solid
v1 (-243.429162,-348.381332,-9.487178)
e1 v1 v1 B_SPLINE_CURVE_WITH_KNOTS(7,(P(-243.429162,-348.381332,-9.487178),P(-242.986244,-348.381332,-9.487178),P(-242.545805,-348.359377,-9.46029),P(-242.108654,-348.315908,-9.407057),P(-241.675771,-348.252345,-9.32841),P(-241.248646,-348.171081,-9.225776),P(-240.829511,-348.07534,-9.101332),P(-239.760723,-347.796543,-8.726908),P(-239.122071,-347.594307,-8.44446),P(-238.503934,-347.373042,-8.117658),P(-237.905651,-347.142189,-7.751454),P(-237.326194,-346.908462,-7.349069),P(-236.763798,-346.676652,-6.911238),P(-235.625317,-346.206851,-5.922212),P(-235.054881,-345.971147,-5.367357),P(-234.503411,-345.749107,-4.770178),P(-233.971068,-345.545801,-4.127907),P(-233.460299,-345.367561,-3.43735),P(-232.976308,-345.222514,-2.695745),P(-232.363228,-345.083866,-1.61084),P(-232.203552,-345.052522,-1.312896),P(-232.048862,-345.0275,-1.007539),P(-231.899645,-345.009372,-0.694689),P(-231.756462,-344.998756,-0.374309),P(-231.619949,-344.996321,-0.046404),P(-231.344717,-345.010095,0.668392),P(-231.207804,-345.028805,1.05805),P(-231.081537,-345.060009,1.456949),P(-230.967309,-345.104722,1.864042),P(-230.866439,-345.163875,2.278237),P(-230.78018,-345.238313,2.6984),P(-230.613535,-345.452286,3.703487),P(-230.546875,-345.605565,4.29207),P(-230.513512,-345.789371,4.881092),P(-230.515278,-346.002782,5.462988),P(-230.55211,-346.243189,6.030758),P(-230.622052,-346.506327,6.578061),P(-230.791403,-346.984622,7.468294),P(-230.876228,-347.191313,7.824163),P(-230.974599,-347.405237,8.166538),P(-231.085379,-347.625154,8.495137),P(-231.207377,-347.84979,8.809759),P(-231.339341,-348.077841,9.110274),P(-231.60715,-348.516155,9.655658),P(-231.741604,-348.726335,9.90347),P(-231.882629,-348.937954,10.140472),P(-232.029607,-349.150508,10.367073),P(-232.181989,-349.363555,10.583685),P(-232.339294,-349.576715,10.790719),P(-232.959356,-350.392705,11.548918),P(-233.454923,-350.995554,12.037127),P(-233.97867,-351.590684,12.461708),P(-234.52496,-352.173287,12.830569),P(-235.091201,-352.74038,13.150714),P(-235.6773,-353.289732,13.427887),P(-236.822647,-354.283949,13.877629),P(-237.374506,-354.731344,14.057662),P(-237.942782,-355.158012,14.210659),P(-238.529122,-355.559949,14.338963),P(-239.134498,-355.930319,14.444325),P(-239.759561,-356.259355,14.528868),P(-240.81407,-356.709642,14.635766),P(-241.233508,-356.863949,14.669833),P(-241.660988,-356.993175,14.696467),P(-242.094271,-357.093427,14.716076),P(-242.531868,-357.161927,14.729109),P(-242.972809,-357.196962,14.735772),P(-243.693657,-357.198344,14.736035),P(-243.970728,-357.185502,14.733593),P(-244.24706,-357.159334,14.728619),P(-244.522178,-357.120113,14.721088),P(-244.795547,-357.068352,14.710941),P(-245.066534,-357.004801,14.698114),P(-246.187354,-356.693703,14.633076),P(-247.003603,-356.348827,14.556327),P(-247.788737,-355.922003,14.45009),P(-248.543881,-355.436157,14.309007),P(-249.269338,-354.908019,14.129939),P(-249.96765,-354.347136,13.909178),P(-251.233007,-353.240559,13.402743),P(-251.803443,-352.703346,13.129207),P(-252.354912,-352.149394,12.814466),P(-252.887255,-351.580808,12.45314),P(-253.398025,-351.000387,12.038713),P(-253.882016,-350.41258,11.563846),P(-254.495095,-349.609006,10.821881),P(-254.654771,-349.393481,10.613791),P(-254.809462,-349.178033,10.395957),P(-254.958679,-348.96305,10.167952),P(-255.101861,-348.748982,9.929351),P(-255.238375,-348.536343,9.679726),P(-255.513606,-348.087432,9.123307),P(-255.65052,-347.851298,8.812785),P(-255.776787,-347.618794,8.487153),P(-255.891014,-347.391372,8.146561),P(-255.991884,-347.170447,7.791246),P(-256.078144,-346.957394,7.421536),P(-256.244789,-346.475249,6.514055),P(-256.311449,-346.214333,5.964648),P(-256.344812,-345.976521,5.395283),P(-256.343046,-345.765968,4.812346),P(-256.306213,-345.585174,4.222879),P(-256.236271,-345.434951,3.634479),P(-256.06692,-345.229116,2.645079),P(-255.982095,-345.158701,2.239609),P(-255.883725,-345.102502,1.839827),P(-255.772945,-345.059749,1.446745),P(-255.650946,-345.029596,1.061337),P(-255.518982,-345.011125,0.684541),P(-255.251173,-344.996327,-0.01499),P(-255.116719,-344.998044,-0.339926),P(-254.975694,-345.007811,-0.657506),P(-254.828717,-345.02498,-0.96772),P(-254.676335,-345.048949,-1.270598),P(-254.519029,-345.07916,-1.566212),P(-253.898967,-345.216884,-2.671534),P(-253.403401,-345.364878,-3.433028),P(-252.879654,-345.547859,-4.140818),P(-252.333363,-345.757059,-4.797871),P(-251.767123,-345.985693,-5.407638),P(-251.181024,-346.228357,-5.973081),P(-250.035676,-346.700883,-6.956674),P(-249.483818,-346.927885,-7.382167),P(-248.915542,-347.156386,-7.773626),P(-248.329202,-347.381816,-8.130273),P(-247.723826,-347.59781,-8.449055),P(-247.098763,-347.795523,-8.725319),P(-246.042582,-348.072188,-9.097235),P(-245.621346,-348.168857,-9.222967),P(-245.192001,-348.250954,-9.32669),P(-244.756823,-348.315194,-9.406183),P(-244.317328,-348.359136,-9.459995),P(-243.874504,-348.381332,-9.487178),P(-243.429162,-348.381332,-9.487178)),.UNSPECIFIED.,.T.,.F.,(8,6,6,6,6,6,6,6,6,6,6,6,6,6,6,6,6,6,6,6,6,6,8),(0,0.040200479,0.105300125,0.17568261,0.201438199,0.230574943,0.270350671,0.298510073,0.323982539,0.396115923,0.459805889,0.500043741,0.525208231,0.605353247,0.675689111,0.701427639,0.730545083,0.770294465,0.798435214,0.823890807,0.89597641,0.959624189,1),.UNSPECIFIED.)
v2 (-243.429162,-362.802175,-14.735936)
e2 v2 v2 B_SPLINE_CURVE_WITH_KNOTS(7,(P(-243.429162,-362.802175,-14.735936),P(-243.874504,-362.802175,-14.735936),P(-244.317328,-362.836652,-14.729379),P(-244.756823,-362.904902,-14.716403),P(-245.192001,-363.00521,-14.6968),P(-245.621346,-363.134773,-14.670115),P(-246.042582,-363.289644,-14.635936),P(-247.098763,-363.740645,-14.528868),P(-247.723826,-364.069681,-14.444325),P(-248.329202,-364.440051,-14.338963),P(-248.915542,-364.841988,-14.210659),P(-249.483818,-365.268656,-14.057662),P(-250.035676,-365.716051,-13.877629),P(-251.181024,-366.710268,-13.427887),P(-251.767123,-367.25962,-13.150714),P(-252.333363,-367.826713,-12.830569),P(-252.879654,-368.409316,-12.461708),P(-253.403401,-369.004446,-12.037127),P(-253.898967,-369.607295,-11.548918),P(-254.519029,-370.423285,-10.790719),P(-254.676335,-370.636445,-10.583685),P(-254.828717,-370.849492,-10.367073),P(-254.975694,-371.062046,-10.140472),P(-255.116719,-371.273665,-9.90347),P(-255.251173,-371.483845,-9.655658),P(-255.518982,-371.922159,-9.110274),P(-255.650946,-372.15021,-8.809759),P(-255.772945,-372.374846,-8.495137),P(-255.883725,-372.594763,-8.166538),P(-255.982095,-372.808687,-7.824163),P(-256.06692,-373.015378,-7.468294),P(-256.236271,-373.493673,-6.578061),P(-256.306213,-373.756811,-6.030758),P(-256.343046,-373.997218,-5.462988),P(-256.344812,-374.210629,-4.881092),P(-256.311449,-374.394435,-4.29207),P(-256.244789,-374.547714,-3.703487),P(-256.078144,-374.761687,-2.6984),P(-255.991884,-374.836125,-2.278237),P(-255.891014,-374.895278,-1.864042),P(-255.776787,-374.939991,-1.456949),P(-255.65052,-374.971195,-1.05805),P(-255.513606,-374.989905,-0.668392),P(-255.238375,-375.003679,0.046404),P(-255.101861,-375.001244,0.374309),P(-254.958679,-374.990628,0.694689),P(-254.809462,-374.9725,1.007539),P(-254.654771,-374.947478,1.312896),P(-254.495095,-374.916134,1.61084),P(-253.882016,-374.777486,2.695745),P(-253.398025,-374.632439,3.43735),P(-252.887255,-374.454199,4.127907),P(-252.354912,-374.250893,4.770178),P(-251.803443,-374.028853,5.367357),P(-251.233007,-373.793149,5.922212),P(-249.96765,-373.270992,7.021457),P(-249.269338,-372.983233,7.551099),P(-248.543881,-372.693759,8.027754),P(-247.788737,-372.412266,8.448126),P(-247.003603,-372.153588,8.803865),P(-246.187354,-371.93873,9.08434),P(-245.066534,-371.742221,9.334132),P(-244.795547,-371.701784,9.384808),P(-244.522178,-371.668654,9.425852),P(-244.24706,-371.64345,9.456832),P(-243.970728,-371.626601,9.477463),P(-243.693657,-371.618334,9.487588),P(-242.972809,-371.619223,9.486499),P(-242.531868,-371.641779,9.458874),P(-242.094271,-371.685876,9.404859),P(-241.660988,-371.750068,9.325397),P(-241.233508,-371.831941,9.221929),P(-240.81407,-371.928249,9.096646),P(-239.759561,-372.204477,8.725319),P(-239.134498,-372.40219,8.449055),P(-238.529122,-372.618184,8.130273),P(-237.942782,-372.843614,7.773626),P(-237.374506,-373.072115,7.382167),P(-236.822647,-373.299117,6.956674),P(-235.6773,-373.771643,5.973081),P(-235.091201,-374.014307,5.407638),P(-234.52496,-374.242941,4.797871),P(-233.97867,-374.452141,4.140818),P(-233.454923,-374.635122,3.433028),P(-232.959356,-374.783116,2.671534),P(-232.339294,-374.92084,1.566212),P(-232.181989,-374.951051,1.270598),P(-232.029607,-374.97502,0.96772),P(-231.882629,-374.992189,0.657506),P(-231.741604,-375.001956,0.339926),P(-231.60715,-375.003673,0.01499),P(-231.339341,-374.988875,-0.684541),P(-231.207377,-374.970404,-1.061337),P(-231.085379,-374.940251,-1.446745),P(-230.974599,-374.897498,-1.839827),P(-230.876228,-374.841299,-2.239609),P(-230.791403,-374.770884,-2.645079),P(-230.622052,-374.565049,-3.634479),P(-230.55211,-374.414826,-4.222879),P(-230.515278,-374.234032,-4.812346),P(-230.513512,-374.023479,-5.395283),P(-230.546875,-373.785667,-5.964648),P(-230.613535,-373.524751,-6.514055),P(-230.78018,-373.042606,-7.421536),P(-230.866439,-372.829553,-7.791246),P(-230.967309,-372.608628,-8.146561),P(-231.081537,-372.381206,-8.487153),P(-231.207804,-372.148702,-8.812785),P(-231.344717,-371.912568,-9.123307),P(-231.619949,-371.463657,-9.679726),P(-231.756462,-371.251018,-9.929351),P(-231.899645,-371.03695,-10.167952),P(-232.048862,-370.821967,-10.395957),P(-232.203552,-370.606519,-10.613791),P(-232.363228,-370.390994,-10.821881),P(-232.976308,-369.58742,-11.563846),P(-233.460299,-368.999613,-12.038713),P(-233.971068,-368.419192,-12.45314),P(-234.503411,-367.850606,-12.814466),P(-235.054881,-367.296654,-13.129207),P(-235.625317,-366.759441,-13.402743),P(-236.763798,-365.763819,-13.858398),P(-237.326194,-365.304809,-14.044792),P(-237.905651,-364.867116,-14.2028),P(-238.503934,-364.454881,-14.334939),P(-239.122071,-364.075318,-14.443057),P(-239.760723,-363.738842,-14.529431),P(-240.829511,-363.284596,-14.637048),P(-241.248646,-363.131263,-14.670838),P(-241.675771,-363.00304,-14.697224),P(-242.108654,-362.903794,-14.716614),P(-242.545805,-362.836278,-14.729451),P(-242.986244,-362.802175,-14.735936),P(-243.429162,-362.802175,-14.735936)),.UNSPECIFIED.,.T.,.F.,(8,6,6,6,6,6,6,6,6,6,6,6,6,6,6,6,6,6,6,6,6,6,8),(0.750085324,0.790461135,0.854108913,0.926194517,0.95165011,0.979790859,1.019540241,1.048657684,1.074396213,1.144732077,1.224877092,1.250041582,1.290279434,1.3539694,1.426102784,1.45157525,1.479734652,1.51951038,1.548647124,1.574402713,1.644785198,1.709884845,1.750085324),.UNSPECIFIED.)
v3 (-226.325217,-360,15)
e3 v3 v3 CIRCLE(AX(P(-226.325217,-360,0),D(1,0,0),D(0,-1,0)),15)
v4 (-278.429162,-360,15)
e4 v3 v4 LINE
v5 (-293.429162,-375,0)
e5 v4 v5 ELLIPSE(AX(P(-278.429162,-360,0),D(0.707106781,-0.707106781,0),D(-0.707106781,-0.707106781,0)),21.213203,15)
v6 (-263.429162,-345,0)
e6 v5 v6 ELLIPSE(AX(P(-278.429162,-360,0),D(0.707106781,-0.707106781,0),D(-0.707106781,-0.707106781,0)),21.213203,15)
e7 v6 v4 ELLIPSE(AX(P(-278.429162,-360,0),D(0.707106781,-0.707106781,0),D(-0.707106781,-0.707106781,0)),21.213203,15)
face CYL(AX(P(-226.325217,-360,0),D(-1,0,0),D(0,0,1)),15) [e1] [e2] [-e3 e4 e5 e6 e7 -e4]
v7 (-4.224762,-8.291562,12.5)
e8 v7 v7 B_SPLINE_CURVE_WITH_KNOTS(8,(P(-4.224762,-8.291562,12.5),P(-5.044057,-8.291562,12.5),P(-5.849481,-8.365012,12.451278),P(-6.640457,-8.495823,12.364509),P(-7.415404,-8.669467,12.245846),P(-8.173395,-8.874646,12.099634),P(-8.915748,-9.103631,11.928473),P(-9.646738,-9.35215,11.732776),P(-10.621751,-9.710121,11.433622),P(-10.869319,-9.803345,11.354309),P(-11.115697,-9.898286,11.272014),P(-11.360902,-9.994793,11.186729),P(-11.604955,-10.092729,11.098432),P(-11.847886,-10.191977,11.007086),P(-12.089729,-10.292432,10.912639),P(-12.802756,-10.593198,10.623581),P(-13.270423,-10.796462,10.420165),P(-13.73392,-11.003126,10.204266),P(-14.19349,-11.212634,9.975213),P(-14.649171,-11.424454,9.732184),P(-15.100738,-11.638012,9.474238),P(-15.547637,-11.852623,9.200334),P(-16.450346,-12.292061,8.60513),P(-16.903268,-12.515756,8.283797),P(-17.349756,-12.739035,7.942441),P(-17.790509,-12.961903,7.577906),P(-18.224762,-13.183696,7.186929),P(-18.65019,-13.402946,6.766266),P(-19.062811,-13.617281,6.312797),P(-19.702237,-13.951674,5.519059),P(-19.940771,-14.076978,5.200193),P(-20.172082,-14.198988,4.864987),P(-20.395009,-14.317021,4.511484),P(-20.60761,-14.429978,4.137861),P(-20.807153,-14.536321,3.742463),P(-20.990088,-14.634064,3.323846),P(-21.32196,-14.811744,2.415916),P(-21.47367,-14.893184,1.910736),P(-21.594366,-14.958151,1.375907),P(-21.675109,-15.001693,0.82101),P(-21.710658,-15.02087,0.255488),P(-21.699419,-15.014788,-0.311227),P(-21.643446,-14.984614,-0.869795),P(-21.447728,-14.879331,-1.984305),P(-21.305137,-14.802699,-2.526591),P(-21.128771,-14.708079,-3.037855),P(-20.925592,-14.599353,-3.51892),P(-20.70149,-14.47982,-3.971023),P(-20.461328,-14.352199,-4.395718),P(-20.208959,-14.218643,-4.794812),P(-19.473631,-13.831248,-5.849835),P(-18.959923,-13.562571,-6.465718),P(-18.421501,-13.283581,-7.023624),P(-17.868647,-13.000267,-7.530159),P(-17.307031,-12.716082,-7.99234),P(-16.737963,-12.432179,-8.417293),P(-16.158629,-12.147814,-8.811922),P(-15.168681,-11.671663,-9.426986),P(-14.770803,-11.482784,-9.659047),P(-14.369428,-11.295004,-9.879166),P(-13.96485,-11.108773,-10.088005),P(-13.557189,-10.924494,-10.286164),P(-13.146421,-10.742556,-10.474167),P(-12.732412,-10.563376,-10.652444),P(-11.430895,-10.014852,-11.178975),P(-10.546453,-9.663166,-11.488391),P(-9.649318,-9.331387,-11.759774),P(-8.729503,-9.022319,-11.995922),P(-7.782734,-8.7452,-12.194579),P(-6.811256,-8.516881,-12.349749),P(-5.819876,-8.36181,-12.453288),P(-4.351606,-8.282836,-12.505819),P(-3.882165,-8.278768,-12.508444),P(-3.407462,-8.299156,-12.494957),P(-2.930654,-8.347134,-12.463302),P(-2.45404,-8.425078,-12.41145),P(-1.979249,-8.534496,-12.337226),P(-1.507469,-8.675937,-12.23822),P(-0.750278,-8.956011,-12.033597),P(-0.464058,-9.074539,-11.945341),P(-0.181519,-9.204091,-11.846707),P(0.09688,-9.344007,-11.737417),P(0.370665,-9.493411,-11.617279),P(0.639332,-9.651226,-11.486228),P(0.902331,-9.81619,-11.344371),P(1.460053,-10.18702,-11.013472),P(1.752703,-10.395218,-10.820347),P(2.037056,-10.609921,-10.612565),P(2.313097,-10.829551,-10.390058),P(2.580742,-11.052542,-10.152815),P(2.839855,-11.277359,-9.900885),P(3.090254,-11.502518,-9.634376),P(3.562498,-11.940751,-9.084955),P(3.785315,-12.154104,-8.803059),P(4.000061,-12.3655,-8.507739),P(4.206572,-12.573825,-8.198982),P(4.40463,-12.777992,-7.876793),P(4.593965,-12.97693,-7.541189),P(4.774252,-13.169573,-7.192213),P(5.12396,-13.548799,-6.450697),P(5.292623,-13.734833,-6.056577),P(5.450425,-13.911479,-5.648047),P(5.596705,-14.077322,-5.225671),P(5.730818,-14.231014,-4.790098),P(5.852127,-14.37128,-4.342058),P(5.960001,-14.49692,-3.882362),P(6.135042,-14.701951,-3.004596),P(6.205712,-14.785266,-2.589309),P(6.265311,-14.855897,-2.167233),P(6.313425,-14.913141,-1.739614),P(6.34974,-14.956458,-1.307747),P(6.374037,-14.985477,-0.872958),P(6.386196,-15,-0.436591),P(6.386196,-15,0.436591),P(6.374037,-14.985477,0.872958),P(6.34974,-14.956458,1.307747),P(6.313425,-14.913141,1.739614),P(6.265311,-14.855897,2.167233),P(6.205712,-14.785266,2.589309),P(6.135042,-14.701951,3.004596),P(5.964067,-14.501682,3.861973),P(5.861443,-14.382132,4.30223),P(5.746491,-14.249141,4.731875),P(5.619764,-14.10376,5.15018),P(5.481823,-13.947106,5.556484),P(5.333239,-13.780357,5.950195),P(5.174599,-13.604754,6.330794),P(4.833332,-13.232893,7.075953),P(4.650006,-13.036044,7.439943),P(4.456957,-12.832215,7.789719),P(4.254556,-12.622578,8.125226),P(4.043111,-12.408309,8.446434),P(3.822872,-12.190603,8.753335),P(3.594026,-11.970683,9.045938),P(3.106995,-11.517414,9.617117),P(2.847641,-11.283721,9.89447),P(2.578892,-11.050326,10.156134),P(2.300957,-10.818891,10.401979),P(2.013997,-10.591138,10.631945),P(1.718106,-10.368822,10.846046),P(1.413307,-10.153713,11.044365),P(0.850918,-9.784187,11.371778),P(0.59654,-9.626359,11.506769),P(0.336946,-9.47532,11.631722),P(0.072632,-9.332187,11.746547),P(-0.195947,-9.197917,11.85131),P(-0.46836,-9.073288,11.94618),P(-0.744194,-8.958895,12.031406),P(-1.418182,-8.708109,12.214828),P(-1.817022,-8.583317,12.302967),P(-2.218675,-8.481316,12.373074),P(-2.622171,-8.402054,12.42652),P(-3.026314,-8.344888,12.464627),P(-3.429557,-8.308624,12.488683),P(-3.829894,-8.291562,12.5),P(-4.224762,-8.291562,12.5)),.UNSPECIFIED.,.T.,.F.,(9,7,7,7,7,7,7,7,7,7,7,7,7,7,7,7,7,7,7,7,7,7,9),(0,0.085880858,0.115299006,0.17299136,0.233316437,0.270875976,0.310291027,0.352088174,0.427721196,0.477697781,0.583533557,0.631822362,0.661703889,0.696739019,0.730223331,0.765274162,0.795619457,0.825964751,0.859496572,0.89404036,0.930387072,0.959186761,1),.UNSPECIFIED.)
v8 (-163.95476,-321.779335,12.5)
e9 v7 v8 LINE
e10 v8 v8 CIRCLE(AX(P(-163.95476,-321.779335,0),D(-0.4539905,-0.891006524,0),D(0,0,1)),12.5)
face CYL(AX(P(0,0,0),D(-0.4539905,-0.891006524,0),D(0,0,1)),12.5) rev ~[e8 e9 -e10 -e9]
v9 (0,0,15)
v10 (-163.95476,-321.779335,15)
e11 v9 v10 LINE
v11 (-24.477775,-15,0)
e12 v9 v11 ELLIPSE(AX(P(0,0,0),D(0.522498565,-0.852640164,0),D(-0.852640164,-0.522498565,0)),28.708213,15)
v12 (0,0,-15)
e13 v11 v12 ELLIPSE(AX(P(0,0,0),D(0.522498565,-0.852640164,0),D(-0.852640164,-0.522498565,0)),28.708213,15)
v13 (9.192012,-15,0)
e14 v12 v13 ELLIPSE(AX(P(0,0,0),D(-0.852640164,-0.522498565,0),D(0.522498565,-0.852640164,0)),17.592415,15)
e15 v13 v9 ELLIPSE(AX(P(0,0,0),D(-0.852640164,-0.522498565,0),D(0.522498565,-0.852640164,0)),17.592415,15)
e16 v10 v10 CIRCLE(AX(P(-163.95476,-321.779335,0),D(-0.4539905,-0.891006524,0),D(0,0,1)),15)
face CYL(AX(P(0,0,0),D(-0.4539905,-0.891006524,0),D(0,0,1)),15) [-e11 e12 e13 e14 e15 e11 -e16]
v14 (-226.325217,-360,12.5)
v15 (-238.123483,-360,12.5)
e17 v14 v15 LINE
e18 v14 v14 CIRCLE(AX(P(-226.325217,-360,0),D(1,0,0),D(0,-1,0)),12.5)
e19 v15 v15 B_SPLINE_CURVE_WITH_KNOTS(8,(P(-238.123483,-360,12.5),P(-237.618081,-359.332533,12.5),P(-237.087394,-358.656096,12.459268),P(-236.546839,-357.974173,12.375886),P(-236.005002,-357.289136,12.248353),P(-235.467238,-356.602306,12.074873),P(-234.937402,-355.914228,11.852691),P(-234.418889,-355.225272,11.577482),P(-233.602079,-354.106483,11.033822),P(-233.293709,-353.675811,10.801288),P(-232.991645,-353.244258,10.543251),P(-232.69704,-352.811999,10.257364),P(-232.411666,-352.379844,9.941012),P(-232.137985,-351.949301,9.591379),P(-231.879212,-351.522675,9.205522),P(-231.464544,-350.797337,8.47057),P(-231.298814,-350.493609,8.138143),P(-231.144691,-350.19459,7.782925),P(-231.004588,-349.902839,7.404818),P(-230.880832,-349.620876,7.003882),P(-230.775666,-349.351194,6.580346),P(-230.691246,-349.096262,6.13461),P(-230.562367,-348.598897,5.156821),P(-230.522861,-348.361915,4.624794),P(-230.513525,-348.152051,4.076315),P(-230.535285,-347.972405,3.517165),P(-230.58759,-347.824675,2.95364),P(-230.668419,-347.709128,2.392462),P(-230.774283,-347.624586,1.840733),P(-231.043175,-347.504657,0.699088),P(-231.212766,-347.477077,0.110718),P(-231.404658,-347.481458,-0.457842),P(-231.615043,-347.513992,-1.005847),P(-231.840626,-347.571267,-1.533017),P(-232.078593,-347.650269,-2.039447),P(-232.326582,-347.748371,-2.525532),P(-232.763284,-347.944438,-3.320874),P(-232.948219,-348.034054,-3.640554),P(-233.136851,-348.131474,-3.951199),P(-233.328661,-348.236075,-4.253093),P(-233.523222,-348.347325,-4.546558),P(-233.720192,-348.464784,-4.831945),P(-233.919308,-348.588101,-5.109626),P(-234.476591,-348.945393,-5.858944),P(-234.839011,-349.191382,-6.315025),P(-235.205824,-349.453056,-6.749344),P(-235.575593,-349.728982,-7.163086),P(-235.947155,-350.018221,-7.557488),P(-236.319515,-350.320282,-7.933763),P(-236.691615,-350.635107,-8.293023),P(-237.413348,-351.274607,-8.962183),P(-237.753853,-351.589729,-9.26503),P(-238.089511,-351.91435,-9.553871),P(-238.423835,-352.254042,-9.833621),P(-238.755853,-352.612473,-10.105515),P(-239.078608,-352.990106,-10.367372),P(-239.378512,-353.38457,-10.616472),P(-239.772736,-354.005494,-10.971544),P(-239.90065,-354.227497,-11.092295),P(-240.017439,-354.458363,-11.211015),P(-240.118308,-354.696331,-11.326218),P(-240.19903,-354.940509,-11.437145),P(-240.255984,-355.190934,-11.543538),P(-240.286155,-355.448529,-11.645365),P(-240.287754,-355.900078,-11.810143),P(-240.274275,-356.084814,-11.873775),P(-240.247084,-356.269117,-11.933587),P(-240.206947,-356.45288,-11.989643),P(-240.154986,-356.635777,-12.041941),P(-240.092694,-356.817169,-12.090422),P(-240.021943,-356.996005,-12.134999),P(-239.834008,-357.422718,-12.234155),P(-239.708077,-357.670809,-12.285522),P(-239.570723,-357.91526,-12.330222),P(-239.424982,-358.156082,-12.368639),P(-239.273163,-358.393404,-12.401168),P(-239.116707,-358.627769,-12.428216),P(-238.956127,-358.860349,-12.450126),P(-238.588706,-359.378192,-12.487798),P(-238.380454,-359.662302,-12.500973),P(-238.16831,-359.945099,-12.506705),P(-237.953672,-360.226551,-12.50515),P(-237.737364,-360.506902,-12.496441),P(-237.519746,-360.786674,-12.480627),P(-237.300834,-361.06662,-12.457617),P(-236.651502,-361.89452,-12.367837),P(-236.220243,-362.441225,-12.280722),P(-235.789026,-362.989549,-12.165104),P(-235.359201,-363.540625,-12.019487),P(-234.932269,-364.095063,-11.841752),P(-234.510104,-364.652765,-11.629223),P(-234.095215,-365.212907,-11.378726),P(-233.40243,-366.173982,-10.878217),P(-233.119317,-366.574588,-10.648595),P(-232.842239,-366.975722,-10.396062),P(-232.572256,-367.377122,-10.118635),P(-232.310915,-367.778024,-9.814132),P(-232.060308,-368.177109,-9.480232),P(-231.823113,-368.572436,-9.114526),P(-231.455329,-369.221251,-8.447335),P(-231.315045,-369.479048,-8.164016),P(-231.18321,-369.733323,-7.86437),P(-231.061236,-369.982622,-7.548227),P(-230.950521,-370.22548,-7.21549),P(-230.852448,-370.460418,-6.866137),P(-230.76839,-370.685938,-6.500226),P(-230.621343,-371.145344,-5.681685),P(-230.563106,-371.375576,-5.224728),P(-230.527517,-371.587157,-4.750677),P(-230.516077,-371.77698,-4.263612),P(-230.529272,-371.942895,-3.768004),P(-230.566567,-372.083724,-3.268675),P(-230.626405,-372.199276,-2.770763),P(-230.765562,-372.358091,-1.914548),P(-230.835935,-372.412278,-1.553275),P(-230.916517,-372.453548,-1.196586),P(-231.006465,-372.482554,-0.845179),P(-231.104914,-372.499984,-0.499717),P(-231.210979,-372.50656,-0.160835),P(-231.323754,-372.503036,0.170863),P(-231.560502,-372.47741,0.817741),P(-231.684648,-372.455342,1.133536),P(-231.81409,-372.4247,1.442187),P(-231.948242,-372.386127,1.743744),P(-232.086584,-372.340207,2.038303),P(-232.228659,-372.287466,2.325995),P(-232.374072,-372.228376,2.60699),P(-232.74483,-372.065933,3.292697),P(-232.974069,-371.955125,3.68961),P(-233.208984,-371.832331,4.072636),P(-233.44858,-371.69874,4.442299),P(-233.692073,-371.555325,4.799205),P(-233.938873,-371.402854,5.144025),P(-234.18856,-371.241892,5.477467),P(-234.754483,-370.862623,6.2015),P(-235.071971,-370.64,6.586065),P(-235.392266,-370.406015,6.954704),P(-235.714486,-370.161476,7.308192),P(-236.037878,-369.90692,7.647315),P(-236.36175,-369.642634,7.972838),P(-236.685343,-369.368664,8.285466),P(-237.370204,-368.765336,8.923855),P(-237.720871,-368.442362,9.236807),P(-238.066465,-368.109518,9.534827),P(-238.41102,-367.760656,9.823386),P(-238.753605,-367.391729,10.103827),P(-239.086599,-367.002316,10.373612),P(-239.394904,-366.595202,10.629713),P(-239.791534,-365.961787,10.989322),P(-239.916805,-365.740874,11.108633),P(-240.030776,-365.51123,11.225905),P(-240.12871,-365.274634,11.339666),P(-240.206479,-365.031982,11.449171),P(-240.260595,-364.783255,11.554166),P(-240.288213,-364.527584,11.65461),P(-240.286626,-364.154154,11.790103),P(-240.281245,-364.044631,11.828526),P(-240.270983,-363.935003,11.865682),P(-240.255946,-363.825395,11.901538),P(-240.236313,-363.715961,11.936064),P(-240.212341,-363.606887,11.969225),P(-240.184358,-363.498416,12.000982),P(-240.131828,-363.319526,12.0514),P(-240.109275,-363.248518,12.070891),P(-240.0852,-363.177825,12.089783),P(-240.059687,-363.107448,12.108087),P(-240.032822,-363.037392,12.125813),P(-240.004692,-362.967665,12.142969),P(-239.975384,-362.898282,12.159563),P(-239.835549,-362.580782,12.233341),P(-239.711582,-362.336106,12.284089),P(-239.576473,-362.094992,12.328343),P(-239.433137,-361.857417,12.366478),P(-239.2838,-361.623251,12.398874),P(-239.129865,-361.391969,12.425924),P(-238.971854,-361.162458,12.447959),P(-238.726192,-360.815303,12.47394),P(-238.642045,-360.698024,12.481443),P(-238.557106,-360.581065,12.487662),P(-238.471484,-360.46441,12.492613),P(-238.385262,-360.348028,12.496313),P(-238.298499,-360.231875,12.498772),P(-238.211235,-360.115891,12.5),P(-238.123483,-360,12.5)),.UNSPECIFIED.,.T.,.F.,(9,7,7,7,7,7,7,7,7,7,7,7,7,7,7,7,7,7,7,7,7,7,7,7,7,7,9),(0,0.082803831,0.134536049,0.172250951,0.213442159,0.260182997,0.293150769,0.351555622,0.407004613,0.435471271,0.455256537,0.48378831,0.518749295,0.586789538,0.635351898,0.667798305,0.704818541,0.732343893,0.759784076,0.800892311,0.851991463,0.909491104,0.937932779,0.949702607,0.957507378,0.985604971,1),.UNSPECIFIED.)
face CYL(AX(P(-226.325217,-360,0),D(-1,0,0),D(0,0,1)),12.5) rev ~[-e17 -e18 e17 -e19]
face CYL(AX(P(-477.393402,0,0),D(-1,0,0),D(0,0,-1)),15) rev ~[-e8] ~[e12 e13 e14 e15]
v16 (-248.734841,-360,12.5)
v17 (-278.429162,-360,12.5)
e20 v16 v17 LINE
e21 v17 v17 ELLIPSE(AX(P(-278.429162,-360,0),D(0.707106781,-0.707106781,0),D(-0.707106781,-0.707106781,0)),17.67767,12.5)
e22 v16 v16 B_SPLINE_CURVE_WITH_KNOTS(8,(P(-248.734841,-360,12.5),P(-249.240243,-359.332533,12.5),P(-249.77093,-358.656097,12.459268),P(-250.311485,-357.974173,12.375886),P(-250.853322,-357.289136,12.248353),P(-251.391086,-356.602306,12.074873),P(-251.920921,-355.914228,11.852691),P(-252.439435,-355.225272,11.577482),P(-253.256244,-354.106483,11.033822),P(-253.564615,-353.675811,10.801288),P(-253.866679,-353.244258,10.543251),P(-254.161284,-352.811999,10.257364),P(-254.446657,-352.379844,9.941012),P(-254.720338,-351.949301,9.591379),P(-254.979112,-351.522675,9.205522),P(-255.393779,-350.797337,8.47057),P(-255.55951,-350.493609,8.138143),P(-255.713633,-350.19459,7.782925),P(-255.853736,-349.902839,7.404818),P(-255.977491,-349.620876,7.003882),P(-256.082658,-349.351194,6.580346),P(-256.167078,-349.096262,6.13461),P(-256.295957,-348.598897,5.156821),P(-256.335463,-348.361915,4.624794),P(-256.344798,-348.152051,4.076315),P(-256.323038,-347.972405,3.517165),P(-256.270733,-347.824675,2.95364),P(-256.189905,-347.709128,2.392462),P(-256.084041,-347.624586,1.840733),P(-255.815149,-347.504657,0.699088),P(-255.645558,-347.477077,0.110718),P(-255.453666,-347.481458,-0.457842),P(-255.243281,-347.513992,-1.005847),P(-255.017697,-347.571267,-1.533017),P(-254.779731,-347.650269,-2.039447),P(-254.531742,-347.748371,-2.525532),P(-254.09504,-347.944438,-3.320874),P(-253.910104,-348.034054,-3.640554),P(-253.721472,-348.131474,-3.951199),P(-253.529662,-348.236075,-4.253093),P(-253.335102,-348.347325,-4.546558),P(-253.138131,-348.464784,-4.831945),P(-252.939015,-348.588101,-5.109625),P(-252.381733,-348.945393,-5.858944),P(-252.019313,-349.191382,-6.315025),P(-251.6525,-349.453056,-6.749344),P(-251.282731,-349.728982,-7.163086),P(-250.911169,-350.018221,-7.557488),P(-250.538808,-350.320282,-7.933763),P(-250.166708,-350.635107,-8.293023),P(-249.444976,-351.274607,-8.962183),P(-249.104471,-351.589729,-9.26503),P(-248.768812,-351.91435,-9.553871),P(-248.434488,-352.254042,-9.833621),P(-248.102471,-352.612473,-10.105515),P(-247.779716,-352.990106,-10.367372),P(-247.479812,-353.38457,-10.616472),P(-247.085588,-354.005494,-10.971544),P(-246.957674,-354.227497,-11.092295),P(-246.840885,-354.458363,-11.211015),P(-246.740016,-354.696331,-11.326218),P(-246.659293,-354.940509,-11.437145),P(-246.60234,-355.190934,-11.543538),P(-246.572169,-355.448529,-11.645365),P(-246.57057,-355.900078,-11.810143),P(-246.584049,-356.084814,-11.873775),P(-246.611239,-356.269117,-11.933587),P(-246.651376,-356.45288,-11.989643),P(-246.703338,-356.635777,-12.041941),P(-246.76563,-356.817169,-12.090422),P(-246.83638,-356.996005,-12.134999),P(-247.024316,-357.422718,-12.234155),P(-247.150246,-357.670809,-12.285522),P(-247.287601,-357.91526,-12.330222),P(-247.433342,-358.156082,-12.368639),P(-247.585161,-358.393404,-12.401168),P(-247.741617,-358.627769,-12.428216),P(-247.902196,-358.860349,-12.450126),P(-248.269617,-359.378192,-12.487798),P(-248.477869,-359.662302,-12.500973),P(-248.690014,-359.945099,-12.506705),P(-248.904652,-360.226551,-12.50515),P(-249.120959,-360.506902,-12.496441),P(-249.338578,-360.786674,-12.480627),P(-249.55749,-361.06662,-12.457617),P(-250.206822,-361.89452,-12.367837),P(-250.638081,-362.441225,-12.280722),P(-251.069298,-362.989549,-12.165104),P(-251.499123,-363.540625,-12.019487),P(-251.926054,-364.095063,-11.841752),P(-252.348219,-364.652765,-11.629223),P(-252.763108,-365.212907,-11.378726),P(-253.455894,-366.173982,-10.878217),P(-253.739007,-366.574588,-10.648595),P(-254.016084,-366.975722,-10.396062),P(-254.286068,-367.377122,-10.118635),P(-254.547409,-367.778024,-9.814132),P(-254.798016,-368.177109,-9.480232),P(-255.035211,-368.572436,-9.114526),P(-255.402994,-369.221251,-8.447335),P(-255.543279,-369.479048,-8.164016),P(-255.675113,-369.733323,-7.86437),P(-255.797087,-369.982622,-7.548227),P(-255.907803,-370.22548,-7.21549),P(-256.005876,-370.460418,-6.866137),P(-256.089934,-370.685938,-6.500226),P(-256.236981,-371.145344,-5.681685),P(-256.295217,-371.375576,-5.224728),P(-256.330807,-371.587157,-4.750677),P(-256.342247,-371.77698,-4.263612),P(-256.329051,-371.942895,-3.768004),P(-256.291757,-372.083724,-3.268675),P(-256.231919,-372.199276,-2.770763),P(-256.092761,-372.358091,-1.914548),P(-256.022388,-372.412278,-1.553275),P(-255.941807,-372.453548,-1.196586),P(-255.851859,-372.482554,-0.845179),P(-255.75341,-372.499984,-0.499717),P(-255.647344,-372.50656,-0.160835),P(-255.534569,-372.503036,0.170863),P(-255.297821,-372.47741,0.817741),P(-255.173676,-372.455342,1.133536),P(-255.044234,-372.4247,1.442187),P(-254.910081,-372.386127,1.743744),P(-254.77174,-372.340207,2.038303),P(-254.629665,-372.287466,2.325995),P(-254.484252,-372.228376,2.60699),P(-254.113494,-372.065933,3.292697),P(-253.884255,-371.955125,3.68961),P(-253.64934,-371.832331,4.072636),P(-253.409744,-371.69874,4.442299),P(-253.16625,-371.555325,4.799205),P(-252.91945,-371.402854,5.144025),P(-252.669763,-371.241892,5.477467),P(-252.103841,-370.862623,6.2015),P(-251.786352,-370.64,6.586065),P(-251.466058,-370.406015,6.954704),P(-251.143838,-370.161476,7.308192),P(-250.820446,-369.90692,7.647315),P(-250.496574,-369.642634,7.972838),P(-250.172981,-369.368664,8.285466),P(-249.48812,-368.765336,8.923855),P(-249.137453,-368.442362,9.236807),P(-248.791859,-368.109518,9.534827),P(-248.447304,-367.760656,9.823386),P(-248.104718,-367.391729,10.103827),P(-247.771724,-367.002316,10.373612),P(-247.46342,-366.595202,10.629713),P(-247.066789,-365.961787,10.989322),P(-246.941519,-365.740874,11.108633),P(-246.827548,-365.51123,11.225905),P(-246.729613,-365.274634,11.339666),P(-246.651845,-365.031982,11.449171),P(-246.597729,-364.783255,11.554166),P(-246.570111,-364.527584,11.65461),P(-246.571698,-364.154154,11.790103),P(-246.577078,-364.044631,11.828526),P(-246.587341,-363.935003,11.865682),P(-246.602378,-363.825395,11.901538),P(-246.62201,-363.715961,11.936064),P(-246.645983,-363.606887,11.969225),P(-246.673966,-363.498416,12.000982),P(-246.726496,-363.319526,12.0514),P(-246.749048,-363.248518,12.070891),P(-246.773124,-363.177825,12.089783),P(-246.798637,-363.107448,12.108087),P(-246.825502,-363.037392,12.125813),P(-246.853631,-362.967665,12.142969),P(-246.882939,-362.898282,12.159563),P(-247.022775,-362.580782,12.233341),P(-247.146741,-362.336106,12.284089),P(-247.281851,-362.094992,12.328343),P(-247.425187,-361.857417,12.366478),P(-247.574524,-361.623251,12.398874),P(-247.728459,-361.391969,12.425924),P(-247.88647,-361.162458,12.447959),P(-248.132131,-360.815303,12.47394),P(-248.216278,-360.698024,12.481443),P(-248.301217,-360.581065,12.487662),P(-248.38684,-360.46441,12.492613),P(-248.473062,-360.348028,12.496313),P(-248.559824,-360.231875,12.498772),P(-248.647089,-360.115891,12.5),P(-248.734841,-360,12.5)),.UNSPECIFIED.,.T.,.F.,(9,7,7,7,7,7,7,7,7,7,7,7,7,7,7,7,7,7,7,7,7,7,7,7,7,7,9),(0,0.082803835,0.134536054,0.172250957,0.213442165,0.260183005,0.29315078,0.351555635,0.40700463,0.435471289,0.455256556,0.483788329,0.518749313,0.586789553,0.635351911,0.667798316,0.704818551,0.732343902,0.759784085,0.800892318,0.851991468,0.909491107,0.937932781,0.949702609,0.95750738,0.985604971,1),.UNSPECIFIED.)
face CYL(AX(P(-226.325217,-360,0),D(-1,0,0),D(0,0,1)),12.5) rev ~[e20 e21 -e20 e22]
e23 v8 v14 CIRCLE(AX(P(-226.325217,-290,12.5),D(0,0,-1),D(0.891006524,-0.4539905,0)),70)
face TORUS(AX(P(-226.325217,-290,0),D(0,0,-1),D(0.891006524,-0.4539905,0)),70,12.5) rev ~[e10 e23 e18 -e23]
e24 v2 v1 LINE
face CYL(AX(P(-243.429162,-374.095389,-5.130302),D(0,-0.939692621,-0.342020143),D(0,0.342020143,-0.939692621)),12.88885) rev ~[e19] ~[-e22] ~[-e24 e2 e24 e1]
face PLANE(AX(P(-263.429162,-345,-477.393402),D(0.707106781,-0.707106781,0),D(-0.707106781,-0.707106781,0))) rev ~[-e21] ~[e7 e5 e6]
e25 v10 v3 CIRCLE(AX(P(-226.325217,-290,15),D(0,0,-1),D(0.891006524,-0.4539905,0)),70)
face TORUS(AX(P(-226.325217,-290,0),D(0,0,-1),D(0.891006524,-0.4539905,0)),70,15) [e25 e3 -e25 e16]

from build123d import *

# Parameters (mm, degrees)
SKETCH_2_R               = 15
SKETCH_3_R               = 12.5
CUT_EXTRUDE_1_DEPTH      = 477.393401595
CUT_EXTRUDE_1_DEPTH_BACK = 477.393401595
CUT_EXTRUDE_2_DEPTH      = 477.393401595
CUT_EXTRUDE_2_DEPTH_BACK = 477.393401595
SKETCH_8_R               = 12.88885
CUT_EXTRUDE_1048_DEPTH   = 464.426364673


with BuildPart() as part:
    # Sweep 1: sweep along a path in Эскиз1
    with BuildLine(Plane.XY) as sweep_1_path:
        Line((0, 0), (-163.954760295, -321.779334982))
        ThreePointArc((-163.954760295, -321.779334982), (-189.750317458, -349.684811505), (-226.325216988, -360))
        Line((-226.325216988, -360), (-293.429161818, -360))
    # Эскиз2 → Sweep 1 (sweep)
    with BuildSketch(Plane(origin=(-293.429161818, -360, 0), x_dir=(0, 0, 1), z_dir=(-1, 0, 0))):
        Circle(SKETCH_2_R)
    sweep(path=sweep_1_path.line)

    # Sweep 1 2: sweep along a path in Эскиз1<2>
    with BuildLine(Plane.XY) as sweep_1_2_path:
        Line((0, 0), (-163.954760295, -321.779334982))
        ThreePointArc((-163.954760295, -321.779334982), (-189.750317458, -349.684811505), (-226.325216988, -360))
        Line((-226.325216988, -360), (-293.429161818, -360))
    # Эскиз3 → Sweep 1 2 (sweep, cut)
    with BuildSketch(Plane.ZY.offset(293.429161818)):
        with Locations((0, -360)):
            Circle(SKETCH_3_R)
    sweep(path=sweep_1_2_path.line, mode=Mode.SUBTRACT)

    # Эскиз4 → Вырез-Вытянуть1 (cut, two sides: drawn at the far end of the back side and taken through both)
    with BuildSketch(Plane.XY.offset(-CUT_EXTRUDE_1_DEPTH_BACK)):
        Polygon((-263.429161818, -345), (-293.429161818, -375), (-293.429161818, -345), align=None)
    extrude(amount=CUT_EXTRUDE_1_DEPTH + CUT_EXTRUDE_1_DEPTH_BACK, mode=Mode.SUBTRACT)

    # Эскиз5 → Вырез-Вытянуть2 (cut, two sides: drawn at the far end of the back side and taken through both)
    with BuildSketch(Plane(origin=(0, 0, 0), x_dir=(0, 0, -1), z_dir=(1, 0, 0)).offset(-CUT_EXTRUDE_2_DEPTH_BACK)):
        with BuildLine():
            Line((-15, 0), (-15, 6.809857496))
            Line((-15, 6.809857496), (15, 6.809857496))
            Line((15, 6.809857496), (15, 0))
            ThreePointArc((15, 0), (0, -15), (-15, 0))
        make_face()
    extrude(amount=CUT_EXTRUDE_2_DEPTH + CUT_EXTRUDE_2_DEPTH_BACK, mode=Mode.SUBTRACT)

    # Эскиз8 → Cut-Extrude 1048 (cut, through all)
    with BuildSketch(Plane(origin=(0, -331.983389073, -120.832071893), x_dir=(1, 0, 0), z_dir=(0, -0.9396926207859081, -0.34202014332566943))):
        with Locations((-243.429161818, 123.127251597)):
            Circle(SKETCH_8_R)
    extrude(amount=-CUT_EXTRUDE_1048_DEPTH, mode=Mode.SUBTRACT)


solid = part.part
